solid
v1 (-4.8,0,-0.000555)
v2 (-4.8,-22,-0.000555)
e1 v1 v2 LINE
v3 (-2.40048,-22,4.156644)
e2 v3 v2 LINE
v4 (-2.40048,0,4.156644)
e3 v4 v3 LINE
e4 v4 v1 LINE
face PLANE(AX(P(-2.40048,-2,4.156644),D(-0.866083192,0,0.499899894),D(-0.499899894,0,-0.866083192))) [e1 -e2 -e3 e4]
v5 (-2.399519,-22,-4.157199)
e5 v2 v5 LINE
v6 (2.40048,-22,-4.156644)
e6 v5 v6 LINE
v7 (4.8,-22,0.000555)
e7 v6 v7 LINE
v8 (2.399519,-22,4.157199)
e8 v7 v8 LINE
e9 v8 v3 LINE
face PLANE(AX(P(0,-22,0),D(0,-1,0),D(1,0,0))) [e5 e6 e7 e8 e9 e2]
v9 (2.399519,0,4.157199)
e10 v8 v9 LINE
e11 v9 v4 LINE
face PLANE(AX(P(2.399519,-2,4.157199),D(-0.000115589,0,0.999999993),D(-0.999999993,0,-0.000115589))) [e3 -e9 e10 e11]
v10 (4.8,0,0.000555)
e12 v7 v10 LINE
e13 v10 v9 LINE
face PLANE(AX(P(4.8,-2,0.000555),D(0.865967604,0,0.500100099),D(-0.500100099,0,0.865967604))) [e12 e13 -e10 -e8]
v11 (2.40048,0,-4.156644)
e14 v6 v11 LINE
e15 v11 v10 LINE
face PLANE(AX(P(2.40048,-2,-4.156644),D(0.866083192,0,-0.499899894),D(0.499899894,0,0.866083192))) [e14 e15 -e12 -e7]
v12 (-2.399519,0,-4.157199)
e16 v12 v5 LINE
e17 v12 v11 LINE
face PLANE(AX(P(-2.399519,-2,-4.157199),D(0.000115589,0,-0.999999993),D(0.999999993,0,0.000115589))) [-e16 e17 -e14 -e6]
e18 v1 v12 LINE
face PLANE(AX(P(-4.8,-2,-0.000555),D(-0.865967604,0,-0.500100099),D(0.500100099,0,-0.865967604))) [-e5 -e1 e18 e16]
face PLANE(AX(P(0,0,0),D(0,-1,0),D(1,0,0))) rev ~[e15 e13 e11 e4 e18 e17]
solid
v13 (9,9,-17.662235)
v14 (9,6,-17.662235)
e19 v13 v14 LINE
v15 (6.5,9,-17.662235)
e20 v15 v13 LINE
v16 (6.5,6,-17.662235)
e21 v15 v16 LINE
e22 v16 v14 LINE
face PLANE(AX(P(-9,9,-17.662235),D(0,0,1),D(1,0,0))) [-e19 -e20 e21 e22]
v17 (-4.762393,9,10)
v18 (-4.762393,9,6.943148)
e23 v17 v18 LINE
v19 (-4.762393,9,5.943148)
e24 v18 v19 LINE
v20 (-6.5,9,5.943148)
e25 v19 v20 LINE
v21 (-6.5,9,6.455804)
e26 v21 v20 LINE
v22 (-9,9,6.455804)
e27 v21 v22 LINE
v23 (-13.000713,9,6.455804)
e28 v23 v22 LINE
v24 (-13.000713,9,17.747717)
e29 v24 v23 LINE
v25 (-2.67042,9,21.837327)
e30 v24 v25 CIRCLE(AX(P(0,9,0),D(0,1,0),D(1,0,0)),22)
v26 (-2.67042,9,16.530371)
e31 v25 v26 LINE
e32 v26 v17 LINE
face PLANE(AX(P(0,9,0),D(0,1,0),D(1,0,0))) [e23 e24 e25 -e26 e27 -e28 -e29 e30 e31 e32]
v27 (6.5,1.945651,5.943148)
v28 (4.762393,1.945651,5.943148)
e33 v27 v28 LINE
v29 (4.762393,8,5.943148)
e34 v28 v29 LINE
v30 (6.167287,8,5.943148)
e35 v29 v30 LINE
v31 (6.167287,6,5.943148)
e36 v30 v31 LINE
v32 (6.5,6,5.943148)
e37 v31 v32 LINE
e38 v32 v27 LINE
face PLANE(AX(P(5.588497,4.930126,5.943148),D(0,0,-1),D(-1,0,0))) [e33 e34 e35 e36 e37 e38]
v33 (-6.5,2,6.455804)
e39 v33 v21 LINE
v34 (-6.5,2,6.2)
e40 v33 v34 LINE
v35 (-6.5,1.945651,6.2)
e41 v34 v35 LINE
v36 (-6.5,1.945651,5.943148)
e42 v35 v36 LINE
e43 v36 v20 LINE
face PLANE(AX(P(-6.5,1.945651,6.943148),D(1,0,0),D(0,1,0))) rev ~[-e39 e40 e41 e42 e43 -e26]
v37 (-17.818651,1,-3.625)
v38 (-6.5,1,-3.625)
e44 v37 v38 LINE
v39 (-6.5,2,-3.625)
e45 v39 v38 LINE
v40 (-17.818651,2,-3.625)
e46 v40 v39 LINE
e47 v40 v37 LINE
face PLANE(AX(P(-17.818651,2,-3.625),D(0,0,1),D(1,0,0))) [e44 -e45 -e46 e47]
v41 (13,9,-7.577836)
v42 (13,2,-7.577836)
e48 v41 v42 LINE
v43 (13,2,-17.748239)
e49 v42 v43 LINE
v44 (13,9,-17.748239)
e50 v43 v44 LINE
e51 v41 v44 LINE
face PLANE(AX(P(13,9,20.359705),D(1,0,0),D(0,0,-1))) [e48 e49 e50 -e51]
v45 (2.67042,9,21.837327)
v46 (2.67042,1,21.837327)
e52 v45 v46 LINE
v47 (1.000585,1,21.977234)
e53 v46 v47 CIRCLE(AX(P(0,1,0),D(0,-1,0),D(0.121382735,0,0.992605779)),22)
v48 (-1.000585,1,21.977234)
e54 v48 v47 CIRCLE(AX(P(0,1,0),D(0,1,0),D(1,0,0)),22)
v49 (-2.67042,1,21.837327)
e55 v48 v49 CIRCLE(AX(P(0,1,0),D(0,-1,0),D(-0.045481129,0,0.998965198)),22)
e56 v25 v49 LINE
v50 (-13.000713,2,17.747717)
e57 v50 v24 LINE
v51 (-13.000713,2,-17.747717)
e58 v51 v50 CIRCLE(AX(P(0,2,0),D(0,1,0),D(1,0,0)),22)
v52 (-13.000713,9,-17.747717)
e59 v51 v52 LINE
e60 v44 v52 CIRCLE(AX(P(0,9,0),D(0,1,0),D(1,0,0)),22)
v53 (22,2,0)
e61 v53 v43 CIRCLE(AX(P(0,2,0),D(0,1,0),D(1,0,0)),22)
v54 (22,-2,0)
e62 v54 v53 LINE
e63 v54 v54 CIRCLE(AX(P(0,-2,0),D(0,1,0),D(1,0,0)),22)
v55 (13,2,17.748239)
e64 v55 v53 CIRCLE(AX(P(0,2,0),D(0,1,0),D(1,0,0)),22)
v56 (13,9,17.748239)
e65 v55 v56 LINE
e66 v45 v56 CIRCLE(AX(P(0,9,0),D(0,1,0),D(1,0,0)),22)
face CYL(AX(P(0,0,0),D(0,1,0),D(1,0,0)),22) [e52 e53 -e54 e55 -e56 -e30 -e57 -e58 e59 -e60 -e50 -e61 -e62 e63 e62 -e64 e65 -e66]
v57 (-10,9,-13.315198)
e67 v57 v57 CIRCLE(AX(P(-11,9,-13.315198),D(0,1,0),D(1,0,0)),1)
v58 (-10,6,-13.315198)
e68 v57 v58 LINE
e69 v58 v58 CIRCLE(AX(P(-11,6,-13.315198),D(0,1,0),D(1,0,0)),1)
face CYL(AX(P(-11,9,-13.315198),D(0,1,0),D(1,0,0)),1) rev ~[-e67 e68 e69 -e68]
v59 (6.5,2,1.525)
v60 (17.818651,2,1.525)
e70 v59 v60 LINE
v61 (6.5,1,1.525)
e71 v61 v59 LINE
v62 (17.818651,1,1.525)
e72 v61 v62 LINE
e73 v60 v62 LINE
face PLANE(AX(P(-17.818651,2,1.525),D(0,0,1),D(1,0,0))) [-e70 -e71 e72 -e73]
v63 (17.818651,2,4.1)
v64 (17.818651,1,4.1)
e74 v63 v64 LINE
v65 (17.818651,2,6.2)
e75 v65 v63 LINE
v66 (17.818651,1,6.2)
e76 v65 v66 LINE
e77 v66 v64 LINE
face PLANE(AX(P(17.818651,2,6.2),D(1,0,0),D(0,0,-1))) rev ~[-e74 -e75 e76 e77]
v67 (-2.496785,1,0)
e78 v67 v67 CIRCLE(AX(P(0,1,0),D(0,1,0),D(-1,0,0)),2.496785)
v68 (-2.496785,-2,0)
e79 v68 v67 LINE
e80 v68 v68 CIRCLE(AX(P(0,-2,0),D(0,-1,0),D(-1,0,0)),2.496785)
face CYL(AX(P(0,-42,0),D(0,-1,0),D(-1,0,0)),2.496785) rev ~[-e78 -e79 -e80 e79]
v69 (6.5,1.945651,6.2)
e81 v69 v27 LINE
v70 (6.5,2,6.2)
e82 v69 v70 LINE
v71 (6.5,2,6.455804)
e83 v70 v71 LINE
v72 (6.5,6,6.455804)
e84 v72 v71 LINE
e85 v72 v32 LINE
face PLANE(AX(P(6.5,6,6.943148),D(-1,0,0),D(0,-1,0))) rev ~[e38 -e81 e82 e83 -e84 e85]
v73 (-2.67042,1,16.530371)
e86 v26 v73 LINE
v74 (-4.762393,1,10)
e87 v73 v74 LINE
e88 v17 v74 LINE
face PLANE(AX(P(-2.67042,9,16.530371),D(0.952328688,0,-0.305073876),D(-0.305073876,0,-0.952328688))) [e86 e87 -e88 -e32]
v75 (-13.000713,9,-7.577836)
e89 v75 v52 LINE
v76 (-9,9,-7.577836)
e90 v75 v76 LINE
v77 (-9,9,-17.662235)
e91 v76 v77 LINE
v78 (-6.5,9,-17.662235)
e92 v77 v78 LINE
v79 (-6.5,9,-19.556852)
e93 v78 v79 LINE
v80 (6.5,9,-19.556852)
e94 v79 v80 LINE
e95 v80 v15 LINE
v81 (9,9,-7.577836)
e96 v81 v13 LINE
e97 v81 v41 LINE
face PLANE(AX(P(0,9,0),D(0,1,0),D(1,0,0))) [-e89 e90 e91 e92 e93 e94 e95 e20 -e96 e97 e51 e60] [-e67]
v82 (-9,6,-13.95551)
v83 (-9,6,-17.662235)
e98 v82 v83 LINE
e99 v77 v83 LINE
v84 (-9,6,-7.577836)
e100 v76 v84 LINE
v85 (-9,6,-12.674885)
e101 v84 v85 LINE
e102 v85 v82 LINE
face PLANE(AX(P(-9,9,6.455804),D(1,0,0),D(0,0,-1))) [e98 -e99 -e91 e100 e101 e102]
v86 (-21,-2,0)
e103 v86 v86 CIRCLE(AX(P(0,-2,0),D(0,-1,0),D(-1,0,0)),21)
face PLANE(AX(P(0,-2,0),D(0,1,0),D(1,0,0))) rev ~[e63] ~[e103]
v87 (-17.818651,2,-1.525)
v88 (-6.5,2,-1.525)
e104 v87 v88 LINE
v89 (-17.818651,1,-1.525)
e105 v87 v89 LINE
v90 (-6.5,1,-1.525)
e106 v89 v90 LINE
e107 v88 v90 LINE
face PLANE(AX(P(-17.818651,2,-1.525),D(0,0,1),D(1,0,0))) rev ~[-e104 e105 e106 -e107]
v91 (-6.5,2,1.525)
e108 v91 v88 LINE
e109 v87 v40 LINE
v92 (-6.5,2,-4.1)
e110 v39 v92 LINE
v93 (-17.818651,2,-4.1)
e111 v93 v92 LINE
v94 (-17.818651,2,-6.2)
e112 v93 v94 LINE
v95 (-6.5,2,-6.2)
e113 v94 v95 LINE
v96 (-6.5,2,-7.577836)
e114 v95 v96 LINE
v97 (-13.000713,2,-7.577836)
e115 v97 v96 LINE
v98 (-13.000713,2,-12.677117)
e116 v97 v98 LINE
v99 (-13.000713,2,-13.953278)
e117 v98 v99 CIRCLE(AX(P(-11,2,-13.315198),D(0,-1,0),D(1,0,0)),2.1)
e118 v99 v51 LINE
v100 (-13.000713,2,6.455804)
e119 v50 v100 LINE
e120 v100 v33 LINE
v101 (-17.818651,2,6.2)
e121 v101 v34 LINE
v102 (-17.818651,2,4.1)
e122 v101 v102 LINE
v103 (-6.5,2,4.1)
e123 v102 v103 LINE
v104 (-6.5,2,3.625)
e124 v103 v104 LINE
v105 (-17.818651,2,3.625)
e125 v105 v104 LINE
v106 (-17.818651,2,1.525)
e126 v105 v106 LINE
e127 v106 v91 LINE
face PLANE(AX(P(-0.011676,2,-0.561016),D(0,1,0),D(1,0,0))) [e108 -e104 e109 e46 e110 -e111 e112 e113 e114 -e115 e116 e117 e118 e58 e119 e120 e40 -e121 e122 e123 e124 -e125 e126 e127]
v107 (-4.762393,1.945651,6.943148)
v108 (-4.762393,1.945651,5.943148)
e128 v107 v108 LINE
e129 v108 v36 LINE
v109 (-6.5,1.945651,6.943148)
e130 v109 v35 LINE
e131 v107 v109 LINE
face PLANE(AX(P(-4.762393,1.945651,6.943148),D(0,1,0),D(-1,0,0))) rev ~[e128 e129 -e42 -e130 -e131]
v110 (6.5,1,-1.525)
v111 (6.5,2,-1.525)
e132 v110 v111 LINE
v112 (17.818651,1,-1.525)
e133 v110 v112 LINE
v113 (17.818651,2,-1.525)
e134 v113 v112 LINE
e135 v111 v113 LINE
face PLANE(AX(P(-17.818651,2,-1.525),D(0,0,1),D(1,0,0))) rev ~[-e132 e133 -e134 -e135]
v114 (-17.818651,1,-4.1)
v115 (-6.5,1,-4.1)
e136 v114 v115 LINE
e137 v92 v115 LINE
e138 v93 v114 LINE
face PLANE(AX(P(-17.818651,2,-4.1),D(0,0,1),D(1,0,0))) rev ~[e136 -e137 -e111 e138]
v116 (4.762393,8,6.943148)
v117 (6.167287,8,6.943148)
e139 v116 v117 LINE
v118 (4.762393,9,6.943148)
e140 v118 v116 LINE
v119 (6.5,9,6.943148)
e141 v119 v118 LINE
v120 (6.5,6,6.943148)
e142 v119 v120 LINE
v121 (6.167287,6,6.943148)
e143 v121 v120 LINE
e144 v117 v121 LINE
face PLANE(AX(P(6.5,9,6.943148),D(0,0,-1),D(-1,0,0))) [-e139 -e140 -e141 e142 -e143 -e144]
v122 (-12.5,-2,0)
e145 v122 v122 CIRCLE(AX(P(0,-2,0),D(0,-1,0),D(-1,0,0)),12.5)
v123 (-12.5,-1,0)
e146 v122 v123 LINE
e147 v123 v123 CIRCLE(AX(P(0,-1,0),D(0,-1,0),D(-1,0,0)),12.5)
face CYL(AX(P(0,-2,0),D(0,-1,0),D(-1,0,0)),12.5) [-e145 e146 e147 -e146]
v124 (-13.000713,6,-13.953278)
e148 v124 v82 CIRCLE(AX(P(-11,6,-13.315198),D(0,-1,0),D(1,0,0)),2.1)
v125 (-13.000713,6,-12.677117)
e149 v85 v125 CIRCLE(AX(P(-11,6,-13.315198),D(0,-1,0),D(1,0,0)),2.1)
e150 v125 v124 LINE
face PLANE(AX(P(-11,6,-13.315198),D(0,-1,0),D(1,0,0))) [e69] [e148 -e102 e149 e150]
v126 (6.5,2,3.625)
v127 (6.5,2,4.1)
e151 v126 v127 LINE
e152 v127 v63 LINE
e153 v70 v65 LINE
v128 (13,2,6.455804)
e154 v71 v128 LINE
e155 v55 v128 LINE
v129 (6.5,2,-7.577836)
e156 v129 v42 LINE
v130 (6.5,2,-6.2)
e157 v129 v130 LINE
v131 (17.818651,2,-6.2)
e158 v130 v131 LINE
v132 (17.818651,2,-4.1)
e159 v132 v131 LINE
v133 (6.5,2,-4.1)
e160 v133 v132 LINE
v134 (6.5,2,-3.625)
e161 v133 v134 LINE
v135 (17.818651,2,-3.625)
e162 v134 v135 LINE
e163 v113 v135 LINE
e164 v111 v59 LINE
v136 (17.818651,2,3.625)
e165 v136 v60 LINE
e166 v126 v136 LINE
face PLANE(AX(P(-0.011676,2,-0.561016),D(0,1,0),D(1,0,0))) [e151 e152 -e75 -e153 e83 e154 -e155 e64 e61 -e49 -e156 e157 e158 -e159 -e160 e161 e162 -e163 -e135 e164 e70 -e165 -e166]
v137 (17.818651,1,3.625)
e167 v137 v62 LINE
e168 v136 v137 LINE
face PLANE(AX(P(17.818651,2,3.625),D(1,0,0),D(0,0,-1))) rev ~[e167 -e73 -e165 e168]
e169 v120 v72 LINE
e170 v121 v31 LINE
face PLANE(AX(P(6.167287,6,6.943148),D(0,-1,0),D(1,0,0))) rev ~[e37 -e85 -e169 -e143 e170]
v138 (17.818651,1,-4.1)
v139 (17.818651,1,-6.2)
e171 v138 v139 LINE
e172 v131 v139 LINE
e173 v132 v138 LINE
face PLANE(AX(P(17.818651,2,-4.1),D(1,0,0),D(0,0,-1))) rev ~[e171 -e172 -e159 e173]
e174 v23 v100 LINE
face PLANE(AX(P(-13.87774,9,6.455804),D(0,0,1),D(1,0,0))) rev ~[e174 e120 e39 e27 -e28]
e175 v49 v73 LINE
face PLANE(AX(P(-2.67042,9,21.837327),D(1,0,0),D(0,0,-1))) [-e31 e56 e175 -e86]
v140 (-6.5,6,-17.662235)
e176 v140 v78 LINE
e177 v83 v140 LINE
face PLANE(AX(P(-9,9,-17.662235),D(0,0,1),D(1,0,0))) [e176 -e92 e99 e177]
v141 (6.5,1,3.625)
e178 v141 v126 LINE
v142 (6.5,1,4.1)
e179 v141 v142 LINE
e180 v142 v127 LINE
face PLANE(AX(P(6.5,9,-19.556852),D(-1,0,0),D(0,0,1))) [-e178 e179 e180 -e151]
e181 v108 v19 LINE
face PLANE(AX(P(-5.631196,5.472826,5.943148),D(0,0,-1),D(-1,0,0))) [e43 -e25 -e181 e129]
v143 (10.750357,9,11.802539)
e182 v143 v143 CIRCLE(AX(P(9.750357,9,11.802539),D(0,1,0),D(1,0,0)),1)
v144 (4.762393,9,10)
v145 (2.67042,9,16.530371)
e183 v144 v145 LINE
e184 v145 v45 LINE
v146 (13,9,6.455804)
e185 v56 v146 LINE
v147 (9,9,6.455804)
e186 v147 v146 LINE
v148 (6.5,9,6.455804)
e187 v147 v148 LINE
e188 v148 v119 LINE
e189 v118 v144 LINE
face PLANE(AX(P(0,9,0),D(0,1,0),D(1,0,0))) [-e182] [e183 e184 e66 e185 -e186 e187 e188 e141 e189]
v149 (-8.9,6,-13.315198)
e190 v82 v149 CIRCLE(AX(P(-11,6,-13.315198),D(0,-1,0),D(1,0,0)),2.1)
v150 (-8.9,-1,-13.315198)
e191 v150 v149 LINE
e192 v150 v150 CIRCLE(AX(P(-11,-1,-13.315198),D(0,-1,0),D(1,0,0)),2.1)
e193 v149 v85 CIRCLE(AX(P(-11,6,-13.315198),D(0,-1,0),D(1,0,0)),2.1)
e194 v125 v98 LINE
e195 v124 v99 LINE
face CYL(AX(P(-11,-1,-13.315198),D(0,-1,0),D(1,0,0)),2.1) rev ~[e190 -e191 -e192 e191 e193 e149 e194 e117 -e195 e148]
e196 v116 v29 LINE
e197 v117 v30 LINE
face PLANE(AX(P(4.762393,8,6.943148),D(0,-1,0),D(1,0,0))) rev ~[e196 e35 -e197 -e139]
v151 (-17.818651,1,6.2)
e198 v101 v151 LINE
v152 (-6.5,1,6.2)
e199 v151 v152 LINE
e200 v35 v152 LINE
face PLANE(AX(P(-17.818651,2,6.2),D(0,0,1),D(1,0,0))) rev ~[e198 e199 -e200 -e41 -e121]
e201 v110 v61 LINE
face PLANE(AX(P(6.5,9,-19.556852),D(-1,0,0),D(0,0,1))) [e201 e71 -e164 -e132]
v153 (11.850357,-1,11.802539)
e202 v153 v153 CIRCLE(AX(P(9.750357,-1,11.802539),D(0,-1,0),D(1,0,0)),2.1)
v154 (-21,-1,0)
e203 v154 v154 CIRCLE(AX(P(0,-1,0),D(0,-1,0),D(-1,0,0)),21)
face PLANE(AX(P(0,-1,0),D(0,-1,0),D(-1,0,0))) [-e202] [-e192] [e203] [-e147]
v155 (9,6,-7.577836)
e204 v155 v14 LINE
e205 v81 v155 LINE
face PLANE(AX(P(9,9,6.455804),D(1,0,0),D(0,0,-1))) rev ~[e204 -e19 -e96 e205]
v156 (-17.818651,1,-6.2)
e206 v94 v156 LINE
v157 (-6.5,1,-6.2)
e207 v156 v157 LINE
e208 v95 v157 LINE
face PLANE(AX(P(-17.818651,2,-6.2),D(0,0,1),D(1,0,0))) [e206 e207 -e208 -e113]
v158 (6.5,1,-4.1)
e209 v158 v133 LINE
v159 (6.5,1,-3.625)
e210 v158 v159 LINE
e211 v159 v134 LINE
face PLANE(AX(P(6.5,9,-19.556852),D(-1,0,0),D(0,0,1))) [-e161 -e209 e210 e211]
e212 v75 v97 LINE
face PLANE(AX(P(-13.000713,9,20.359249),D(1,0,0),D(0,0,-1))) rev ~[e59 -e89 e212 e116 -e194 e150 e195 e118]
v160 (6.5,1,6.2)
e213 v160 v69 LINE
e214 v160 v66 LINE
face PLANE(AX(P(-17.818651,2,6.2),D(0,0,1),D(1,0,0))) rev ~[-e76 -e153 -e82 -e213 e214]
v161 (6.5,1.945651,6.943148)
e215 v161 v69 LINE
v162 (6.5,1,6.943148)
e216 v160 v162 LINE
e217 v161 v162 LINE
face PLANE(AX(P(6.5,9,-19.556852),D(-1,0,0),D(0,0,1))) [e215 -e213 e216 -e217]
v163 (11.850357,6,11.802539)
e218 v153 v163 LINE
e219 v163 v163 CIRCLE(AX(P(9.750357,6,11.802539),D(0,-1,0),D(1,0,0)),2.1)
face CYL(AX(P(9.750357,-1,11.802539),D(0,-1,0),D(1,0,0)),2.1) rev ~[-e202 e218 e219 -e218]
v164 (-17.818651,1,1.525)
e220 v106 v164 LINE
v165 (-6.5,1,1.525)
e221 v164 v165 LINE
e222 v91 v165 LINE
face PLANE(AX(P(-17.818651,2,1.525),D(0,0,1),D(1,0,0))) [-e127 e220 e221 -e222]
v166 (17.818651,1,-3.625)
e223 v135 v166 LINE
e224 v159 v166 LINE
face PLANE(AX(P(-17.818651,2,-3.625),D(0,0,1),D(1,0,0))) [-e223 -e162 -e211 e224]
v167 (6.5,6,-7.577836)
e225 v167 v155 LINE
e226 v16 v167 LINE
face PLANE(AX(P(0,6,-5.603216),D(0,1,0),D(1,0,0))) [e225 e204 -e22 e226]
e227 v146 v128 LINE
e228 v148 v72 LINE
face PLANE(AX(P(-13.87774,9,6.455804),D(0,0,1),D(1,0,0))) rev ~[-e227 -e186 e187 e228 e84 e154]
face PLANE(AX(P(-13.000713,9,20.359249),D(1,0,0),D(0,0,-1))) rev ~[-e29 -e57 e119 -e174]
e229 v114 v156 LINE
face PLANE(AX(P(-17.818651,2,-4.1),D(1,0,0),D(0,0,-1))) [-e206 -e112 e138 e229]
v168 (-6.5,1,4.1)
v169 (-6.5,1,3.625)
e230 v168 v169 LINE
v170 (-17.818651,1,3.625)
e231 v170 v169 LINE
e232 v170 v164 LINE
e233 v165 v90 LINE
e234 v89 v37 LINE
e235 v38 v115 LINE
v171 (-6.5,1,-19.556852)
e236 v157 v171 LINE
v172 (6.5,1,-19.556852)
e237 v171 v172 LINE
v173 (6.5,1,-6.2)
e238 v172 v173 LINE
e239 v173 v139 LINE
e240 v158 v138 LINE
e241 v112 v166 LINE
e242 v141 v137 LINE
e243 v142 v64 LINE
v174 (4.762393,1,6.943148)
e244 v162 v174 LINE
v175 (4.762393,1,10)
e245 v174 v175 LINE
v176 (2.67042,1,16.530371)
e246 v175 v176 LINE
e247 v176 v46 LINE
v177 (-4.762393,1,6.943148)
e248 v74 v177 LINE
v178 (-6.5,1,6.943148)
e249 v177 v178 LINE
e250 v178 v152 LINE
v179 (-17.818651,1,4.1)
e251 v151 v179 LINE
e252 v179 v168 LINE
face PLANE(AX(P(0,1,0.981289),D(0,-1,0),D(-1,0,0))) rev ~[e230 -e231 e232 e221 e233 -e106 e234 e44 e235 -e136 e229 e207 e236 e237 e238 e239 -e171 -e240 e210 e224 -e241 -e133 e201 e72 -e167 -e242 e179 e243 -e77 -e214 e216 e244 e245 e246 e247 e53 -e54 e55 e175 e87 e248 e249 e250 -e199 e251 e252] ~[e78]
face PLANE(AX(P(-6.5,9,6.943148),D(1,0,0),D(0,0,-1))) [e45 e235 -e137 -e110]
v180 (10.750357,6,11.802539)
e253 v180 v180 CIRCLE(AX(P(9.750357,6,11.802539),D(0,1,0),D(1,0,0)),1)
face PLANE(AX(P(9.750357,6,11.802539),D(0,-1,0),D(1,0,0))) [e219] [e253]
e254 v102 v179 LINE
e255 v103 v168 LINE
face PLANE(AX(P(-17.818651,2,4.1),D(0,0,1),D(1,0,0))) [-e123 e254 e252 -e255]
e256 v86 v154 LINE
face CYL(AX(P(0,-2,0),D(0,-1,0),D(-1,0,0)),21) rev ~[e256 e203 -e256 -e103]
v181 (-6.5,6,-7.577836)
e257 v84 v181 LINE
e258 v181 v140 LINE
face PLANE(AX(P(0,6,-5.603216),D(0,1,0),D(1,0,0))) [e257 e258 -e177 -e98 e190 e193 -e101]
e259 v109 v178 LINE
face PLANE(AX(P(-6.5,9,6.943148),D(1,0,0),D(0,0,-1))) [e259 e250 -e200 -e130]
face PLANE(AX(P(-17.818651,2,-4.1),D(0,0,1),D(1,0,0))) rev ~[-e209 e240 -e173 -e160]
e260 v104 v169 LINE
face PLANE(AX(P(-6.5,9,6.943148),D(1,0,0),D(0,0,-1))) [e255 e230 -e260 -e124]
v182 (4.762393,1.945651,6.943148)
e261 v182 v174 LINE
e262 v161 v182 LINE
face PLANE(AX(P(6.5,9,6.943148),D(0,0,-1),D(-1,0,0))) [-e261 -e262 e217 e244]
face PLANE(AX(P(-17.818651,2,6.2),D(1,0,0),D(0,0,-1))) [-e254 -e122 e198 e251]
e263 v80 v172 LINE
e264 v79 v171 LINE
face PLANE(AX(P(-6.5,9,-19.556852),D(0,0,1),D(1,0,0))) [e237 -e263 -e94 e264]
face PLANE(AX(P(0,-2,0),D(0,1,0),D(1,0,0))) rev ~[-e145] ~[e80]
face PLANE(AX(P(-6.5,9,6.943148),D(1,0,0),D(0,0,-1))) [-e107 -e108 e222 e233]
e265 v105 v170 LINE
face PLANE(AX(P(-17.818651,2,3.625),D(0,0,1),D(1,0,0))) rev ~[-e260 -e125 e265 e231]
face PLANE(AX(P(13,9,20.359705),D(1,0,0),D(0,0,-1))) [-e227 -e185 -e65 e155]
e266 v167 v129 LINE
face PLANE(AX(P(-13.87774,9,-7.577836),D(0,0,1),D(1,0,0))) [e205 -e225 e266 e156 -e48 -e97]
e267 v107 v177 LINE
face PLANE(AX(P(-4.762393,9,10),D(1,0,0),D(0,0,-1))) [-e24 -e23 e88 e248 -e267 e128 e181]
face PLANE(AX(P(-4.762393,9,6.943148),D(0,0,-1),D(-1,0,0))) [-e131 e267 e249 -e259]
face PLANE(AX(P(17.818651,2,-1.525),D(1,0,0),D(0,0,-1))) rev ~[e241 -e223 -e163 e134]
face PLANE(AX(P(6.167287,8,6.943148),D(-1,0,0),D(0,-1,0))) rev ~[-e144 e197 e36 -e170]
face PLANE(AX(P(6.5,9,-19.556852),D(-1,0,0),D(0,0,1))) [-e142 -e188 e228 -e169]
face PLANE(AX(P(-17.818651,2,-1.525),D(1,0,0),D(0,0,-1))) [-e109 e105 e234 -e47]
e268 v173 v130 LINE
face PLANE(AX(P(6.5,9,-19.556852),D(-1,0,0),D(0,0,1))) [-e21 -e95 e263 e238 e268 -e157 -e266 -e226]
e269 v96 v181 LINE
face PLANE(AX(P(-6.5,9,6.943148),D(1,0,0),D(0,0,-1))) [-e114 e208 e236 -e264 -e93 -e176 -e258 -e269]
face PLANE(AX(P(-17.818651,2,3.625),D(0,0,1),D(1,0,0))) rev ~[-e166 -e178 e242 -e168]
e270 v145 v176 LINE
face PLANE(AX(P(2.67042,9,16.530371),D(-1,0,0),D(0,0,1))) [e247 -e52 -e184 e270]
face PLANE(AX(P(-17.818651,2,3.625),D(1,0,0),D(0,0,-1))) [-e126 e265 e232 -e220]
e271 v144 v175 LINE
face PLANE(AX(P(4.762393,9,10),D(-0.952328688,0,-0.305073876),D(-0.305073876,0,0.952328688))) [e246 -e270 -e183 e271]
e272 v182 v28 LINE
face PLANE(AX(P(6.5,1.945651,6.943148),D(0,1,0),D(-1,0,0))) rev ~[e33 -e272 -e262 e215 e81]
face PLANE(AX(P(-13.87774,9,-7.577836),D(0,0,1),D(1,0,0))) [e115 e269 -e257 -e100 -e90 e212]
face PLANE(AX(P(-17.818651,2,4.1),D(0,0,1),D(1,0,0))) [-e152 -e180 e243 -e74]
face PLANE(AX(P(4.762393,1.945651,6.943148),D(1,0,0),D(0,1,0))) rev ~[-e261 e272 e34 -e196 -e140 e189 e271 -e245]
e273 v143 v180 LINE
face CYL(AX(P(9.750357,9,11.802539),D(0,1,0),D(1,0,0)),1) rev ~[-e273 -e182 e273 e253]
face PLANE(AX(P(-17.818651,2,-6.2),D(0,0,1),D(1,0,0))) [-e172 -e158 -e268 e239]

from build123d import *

# Parameters (mm, degrees)
SKETCH1_R                = 22
BOSS_EXTRUDE1_DEPTH      = 9
BOSS_EXTRUDE1_DEPTH_BACK = 2
SKETCH6_R                = 21
SKETCH6_R_2              = 12.5
CUT_EXTRUDE5_DEPTH       = 1
SKETCH7_R                = 8.5
BOSS_EXTRUDE2_DEPTH      = 40
SKETCH8_R                = 1.5
CUT_EXTRUDE6_DEPTH       = 41
CUT_EXTRUDE6_DEPTH_BACK  = 12
CUT_EXTRUDE7_DEPTH       = 7
SKETCH17_R               = 2.496785081
CUT_EXTRUDE14_DEPTH      = 62
SKETCH29_W               = 18
SKETCH29_H               = 24.118038922
CUT_EXTRUDE19_DEPTH      = 3
SKETCH30_W               = 2.5
SKETCH30_H               = 14
CUT_EXTRUDE20_DEPTH      = 6
SKETCH35_R               = 9.1
SKETCH35_R_2             = 8.5
BOSS_EXTRUDE4_DEPTH      = 2
BOSS_EXTRUDE4_DEPTH_BACK = 2
SKETCH36_R               = 8.5
SKETCH36_R_2             = 8.3
CUT_EXTRUDE28_DEPTH      = 1.5
CUT_EXTRUDE28_DEPTH_BACK = 1.5
SKETCH39_R               = 8.5
SKETCH39_R_2             = 8.3
CUT_EXTRUDE30_DEPTH      = 1.5
CUT_EXTRUDE30_DEPTH_BACK = 1.5
SKETCH40_R               = 8.5
SKETCH40_R_2             = 8.3
CUT_EXTRUDE31_DEPTH      = 1.5
CUT_EXTRUDE31_DEPTH_BACK = 1.5
SKETCH41_R               = 8.5
SKETCH41_R_2             = 8.35
CUT_EXTRUDE32_DEPTH      = 1.5
CUT_EXTRUDE32_DEPTH_BACK = 1.5
SKETCH42_R               = 8.5
SKETCH42_R_2             = 8.3
CUT_EXTRUDE33_DEPTH      = 1.5
CUT_EXTRUDE33_DEPTH_BACK = 1.5
SKETCH43_R               = 8.5
SKETCH43_R_2             = 8.3
CUT_EXTRUDE34_DEPTH      = 1.5
CUT_EXTRUDE34_DEPTH_BACK = 1.5
SKETCH44_R               = 1
CUT_EXTRUDE35_DEPTH      = 23
CUT_EXTRUDE35_DEPTH_BACK = 23
SKETCH45_R               = 1
CUT_EXTRUDE36_DEPTH      = 31.052558883
CUT_EXTRUDE36_DEPTH_BACK = 31.052558883
SKETCH46_R               = 1
CUT_EXTRUDE37_DEPTH      = 31.052558883
CUT_EXTRUDE37_DEPTH_BACK = 31.052558883
SKETCH47_W               = 27.732128476
SKETCH47_H               = 14.033639909
CUT_EXTRUDE38_DEPTH      = 7
CUT_EXTRUDE39_DEPTH      = 8
SKETCH48_R               = 1
CUT_EXTRUDE40_DEPTH      = 9
SKETCH50_R               = 6.388253867
BOSS_EXTRUDE5_DEPTH      = 2
SKETCH49_R               = 2.1
CUT_EXTRUDE42_DEPTH      = 7
SKETCH51_W               = 35.63730279
SKETCH51_H               = 2.1
CUT_EXTRUDE43_DEPTH      = 1
SKETCH53_R               = 9.1
CUT_EXTRUDE45_DEPTH      = 40
SKETCH55_W               = 1.737607108
SKETCH55_H               = 7.054348591
BOSS_EXTRUDE6_DEPTH      = 1
BOSS_EXTRUDE9_DEPTH      = 20
BOSS_EXTRUDE9_DEPTH_BACK = 2


with BuildPart() as part:
    # Sketch1 → Boss-Extrude1 (new body, two sides)
    with BuildSketch(Plane(origin=(0, 0, 0), x_dir=(1, 0, 0), z_dir=(0, 1, 0))) as boss_extrude1_sk:
        Circle(SKETCH1_R)
    extrude(amount=BOSS_EXTRUDE1_DEPTH)
    extrude(boss_extrude1_sk.sketch, amount=-BOSS_EXTRUDE1_DEPTH_BACK)

    # Sketch6 → Cut-Extrude5 (cut)
    with BuildSketch(Plane(origin=(0, -2, 0), x_dir=(-1, 0, 0), z_dir=(0, -1, 0))):
        Circle(SKETCH6_R)
        Circle(SKETCH6_R_2, mode=Mode.SUBTRACT)
    extrude(amount=-CUT_EXTRUDE5_DEPTH, mode=Mode.SUBTRACT)

    # Sketch7 → Boss-Extrude2 (add)
    with BuildSketch(Plane(origin=(0, -2, 0), x_dir=(-1, 0, 0), z_dir=(0, -1, 0))):
        Circle(SKETCH7_R)
    extrude(amount=BOSS_EXTRUDE2_DEPTH)

    # Sketch8 → Cut-Extrude6 (cut, two sides)
    with BuildSketch(Plane(origin=(0, -2, 0), x_dir=(-1, 0, 0), z_dir=(0, -1, 0))) as cut_extrude6_sk:
        Circle(SKETCH8_R)
    extrude(amount=CUT_EXTRUDE6_DEPTH, mode=Mode.SUBTRACT)
    extrude(cut_extrude6_sk.sketch, amount=-CUT_EXTRUDE6_DEPTH_BACK, mode=Mode.SUBTRACT)

    # Sketch9 → Cut-Extrude7 (cut)
    with BuildSketch(Plane(origin=(0, 9, 0), x_dir=(1, 0, 0), z_dir=(0, 1, 0))):
        with BuildLine():
            Line((-13.000713231, -20.359249211), (-13.000713231, 20.359249211))
            ThreePointArc((-13.000713231, 20.359249211), (-24.156108398, 0), (-13.000713231, -20.359249211))
        make_face()
        with BuildLine():
            Line((13, -20.359704638), (13, 20.359704638))
            ThreePointArc((13, 20.359704638), (24.156108398, 0), (13, -20.359704638))
        make_face()
    extrude(amount=-CUT_EXTRUDE7_DEPTH, mode=Mode.SUBTRACT)

    # Sketch17 → Cut-Extrude14 (cut)
    with BuildSketch(Plane(origin=(0, -42, 0), x_dir=(-1, 0, 0), z_dir=(0, -1, 0))):
        Circle(SKETCH17_R)
    extrude(amount=-CUT_EXTRUDE14_DEPTH, mode=Mode.SUBTRACT)

    # Sketch29 → Cut-Extrude19 (cut)
    with BuildSketch(Plane(origin=(0, 9, 0), x_dir=(1, 0, 0), z_dir=(0, 1, 0))):
        with Locations((0, 5.603215798)):
            Rectangle(SKETCH29_W, SKETCH29_H)
    extrude(amount=-CUT_EXTRUDE19_DEPTH, mode=Mode.SUBTRACT)

    # Sketch30 → Cut-Extrude20 (cut)
    with BuildSketch(Plane(origin=(0, 9, 0), x_dir=(1, 0, 0), z_dir=(0, 1, 0))):
        with Locations((6.752146467, 0.544196337)):
            Rectangle(SKETCH30_W, SKETCH30_H)
        with Locations((-6.752146467, 0.544196337)):
            Rectangle(SKETCH30_W, SKETCH30_H)
    extrude(amount=-CUT_EXTRUDE20_DEPTH, mode=Mode.SUBTRACT)

    # Sketch35 → Boss-Extrude4 (add, two sides)
    with BuildSketch(Plane(origin=(0, -6.5, 0), x_dir=(1, 0, 0), z_dir=(0, 1, 0))) as boss_extrude4_sk:
        Circle(SKETCH35_R)
        Circle(SKETCH35_R_2, mode=Mode.SUBTRACT)
    extrude(amount=BOSS_EXTRUDE4_DEPTH)
    extrude(boss_extrude4_sk.sketch, amount=-BOSS_EXTRUDE4_DEPTH_BACK)

    # Sketch36 → Cut-Extrude28 (cut, two sides)
    with BuildSketch(Plane(origin=(0, -17, 0), x_dir=(1, 0, 0), z_dir=(0, 1, 0))) as cut_extrude28_sk:
        Circle(SKETCH36_R)
        Circle(SKETCH36_R_2, mode=Mode.SUBTRACT)
    extrude(amount=CUT_EXTRUDE28_DEPTH, mode=Mode.SUBTRACT)
    extrude(cut_extrude28_sk.sketch, amount=-CUT_EXTRUDE28_DEPTH_BACK, mode=Mode.SUBTRACT)

    # Sketch39 → Cut-Extrude30 (cut, two sides)
    with BuildSketch(Plane(origin=(0, -21, 0), x_dir=(1, 0, 0), z_dir=(0, 1, 0))) as cut_extrude30_sk:
        Circle(SKETCH39_R)
        Circle(SKETCH39_R_2, mode=Mode.SUBTRACT)
    extrude(amount=CUT_EXTRUDE30_DEPTH, mode=Mode.SUBTRACT)
    extrude(cut_extrude30_sk.sketch, amount=-CUT_EXTRUDE30_DEPTH_BACK, mode=Mode.SUBTRACT)

    # Sketch40 → Cut-Extrude31 (cut, two sides)
    with BuildSketch(Plane(origin=(0, -25, 0), x_dir=(1, 0, 0), z_dir=(0, 1, 0))) as cut_extrude31_sk:
        Circle(SKETCH40_R)
        Circle(SKETCH40_R_2, mode=Mode.SUBTRACT)
    extrude(amount=CUT_EXTRUDE31_DEPTH, mode=Mode.SUBTRACT)
    extrude(cut_extrude31_sk.sketch, amount=-CUT_EXTRUDE31_DEPTH_BACK, mode=Mode.SUBTRACT)

    # Sketch41 → Cut-Extrude32 (cut, two sides)
    with BuildSketch(Plane(origin=(0, -29, 0), x_dir=(1, 0, 0), z_dir=(0, 1, 0))) as cut_extrude32_sk:
        Circle(SKETCH41_R)
        Circle(SKETCH41_R_2, mode=Mode.SUBTRACT)
    extrude(amount=CUT_EXTRUDE32_DEPTH, mode=Mode.SUBTRACT)
    extrude(cut_extrude32_sk.sketch, amount=-CUT_EXTRUDE32_DEPTH_BACK, mode=Mode.SUBTRACT)

    # Sketch42 → Cut-Extrude33 (cut, two sides)
    with BuildSketch(Plane(origin=(0, -33, 0), x_dir=(1, 0, 0), z_dir=(0, 1, 0))) as cut_extrude33_sk:
        Circle(SKETCH42_R)
        Circle(SKETCH42_R_2, mode=Mode.SUBTRACT)
    extrude(amount=CUT_EXTRUDE33_DEPTH, mode=Mode.SUBTRACT)
    extrude(cut_extrude33_sk.sketch, amount=-CUT_EXTRUDE33_DEPTH_BACK, mode=Mode.SUBTRACT)

    # Sketch43 → Cut-Extrude34 (cut, two sides)
    with BuildSketch(Plane(origin=(0, -37, 0), x_dir=(1, 0, 0), z_dir=(0, 1, 0))) as cut_extrude34_sk:
        Circle(SKETCH43_R)
        Circle(SKETCH43_R_2, mode=Mode.SUBTRACT)
    extrude(amount=CUT_EXTRUDE34_DEPTH, mode=Mode.SUBTRACT)
    extrude(cut_extrude34_sk.sketch, amount=-CUT_EXTRUDE34_DEPTH_BACK, mode=Mode.SUBTRACT)

    # Sketch44 → Cut-Extrude35 (cut, two sides)
    with BuildSketch(Plane.XY) as cut_extrude35_sk:
        with Locations((0, -16.975647938)):
            Circle(SKETCH44_R)
        with Locations((0, -29.042179734)):
            Circle(SKETCH44_R)
    extrude(amount=CUT_EXTRUDE35_DEPTH, mode=Mode.SUBTRACT)
    extrude(cut_extrude35_sk.sketch, amount=-CUT_EXTRUDE35_DEPTH_BACK, mode=Mode.SUBTRACT)

    # Sketch45 → Cut-Extrude36 (cut, two sides)
    with BuildSketch(Plane(origin=(0, 0, 0), x_dir=(0, 1, 0), z_dir=(0.866025404, 0, 0.5))) as cut_extrude36_sk:
        with Locations((-21.101513607, 0)):
            Circle(SKETCH45_R)
        with Locations((-33.049455879, 0)):
            Circle(SKETCH45_R)
    extrude(amount=CUT_EXTRUDE36_DEPTH, mode=Mode.SUBTRACT)
    extrude(cut_extrude36_sk.sketch, amount=-CUT_EXTRUDE36_DEPTH_BACK, mode=Mode.SUBTRACT)

    # Sketch46 → Cut-Extrude37 (cut, two sides)
    with BuildSketch(Plane(origin=(0, 0, 0), x_dir=(0, 1, 0), z_dir=(0.866025404, 0, -0.5))) as cut_extrude37_sk:
        with Locations((-24.961001523, 0)):
            Circle(SKETCH46_R)
        with Locations((-37.130366549, 0)):
            Circle(SKETCH46_R)
    extrude(amount=CUT_EXTRUDE37_DEPTH, mode=Mode.SUBTRACT)
    extrude(cut_extrude37_sk.sketch, amount=-CUT_EXTRUDE37_DEPTH_BACK, mode=Mode.SUBTRACT)

    # Sketch47 → Cut-Extrude38 (cut)
    with BuildSketch(Plane(origin=(0, 9, 0), x_dir=(1, 0, 0), z_dir=(0, 1, 0))):
        with Locations((-0.011675811, 0.561016292)):
            Rectangle(SKETCH47_W, SKETCH47_H)
    extrude(amount=-CUT_EXTRUDE38_DEPTH, mode=Mode.SUBTRACT)

    # Sketch23 → Cut-Extrude39 (cut)
    with BuildSketch(Plane(origin=(0, 9, 0), x_dir=(1, 0, 0), z_dir=(0, 1, 0))):
        with BuildLine():
            Line((-2.670420152, -16.85816067), (-2.670420152, -16.530371213))
            Line((-2.670420152, -16.530371213), (-4.762392892, -10))
            Line((-4.762392892, -10), (-4.762392892, -6.943148259))
            Line((-4.762392892, -6.943148259), (-6.5, -6.943148259))
            Line((-6.5, -6.943148259), (-6.5, 19.556851741))
            Line((-6.5, 19.556851741), (6.5, 19.556851741))
            Line((6.5, 19.556851741), (6.5, -6.943148259))
            Line((6.5, -6.943148259), (4.762392892, -6.943148259))
            Line((4.762392892, -6.943148259), (4.762392892, -10))
            Line((4.762392892, -10), (2.670420152, -16.530371213))
            Line((2.670420152, -16.530371213), (2.670420152, -16.85816067))
            Line((2.670420152, -16.85816067), (2.670420152, -21.837327131))
            ThreePointArc((2.670420152, -21.837327131), (1.836835043, -21.92318492), (1.000584871, -21.977234355))
            Line((1.000584871, -21.977234355), (0, -25.25))
            Line((0, -25.25), (-1.000584871, -21.977234355))
            ThreePointArc((-1.000584871, -21.977234355), (-1.836835043, -21.92318492), (-2.670420152, -21.837327131))
            Line((-2.670420152, -21.837327131), (-2.670420152, -16.85816067))
        make_face()
    extrude(amount=-CUT_EXTRUDE39_DEPTH, mode=Mode.SUBTRACT)

    # Sketch48 → Cut-Extrude40 (cut)
    with BuildSketch(Plane(origin=(0, 9, 0), x_dir=(1, 0, 0), z_dir=(0, 1, 0))):
        with Locations((-11, 13.315197565)):
            Circle(SKETCH48_R)
        with Locations((9.750356615, -11.802538605)):
            Circle(SKETCH48_R)
    extrude(amount=-CUT_EXTRUDE40_DEPTH, mode=Mode.SUBTRACT)

    # Sketch50 → Boss-Extrude5 (add)
    with BuildSketch(Plane.XZ.offset(42)):
        Circle(SKETCH50_R)
        Polygon((-4.989659815, -0.000576747), (-2.49433043, -4.321460529), (2.495329385, -4.320883782), (4.989659815, 0.000576747), (2.49433043, 4.321460529), (-2.495329385, 4.320883782), align=None, mode=Mode.SUBTRACT)
    extrude(amount=-BOSS_EXTRUDE5_DEPTH)

    # Sketch49 → Cut-Extrude42 (cut)
    with BuildSketch(Plane.XZ.offset(1)):
        with Locations((-11, -13.315197565)):
            Circle(SKETCH49_R)
        with Locations((9.750356615, 11.802538605)):
            Circle(SKETCH49_R)
    extrude(amount=-CUT_EXTRUDE42_DEPTH, mode=Mode.SUBTRACT)

    # Sketch51 → Cut-Extrude43 (cut)
    with BuildSketch(Plane(origin=(0, 2, 0), x_dir=(1, 0, 0), z_dir=(0, 1, 0))):
        with Locations((0, 5.15)):
            Rectangle(SKETCH51_W, SKETCH51_H)
        with Locations((0, 2.575)):
            Rectangle(SKETCH51_W, SKETCH51_H)
        with Locations((0, -2.575)):
            Rectangle(SKETCH51_W, SKETCH51_H)
        with Locations((0, -5.15)):
            Rectangle(SKETCH51_W, SKETCH51_H)
    extrude(amount=-CUT_EXTRUDE43_DEPTH, mode=Mode.SUBTRACT)

    # Sketch53 → Cut-Extrude45 (cut)
    with BuildSketch(Plane.XZ.offset(42)):
        Circle(SKETCH53_R)
    extrude(amount=-CUT_EXTRUDE45_DEPTH, mode=Mode.SUBTRACT)

    # Sketch55 → Boss-Extrude6 (add)
    with BuildSketch(Plane(origin=(0, 0, 6.943148259), x_dir=(-1, 0, 0), z_dir=(0, 0, -1))):
        Polygon((-4.762392892, 8), (-6.167287474, 8), (-6.167287474, 6), (-6.5, 6), (-6.5, 1.945651409), (-4.762392892, 1.945651409), align=None)
        with Locations((5.631196446, 5.472825704)):
            Rectangle(SKETCH55_W, SKETCH55_H)
    extrude(amount=BOSS_EXTRUDE6_DEPTH)


with BuildPart() as body_2:
    # Sketch56 → Boss-Extrude9 (new body, two sides)
    with BuildSketch(Plane.XZ.offset(2)) as boss_extrude9_sk:
        Polygon((2.399519492, 4.157199323), (-2.400480476, 4.156644498), (-4.799999968, -0.000554824), (-2.399519492, -4.157199323), (2.400480476, -4.156644498), (4.799999968, 0.000554824), align=None)
    extrude(amount=BOSS_EXTRUDE9_DEPTH)
    extrude(boss_extrude9_sk.sketch, amount=-BOSS_EXTRUDE9_DEPTH_BACK)


solid = Compound([part.part, body_2.part])
